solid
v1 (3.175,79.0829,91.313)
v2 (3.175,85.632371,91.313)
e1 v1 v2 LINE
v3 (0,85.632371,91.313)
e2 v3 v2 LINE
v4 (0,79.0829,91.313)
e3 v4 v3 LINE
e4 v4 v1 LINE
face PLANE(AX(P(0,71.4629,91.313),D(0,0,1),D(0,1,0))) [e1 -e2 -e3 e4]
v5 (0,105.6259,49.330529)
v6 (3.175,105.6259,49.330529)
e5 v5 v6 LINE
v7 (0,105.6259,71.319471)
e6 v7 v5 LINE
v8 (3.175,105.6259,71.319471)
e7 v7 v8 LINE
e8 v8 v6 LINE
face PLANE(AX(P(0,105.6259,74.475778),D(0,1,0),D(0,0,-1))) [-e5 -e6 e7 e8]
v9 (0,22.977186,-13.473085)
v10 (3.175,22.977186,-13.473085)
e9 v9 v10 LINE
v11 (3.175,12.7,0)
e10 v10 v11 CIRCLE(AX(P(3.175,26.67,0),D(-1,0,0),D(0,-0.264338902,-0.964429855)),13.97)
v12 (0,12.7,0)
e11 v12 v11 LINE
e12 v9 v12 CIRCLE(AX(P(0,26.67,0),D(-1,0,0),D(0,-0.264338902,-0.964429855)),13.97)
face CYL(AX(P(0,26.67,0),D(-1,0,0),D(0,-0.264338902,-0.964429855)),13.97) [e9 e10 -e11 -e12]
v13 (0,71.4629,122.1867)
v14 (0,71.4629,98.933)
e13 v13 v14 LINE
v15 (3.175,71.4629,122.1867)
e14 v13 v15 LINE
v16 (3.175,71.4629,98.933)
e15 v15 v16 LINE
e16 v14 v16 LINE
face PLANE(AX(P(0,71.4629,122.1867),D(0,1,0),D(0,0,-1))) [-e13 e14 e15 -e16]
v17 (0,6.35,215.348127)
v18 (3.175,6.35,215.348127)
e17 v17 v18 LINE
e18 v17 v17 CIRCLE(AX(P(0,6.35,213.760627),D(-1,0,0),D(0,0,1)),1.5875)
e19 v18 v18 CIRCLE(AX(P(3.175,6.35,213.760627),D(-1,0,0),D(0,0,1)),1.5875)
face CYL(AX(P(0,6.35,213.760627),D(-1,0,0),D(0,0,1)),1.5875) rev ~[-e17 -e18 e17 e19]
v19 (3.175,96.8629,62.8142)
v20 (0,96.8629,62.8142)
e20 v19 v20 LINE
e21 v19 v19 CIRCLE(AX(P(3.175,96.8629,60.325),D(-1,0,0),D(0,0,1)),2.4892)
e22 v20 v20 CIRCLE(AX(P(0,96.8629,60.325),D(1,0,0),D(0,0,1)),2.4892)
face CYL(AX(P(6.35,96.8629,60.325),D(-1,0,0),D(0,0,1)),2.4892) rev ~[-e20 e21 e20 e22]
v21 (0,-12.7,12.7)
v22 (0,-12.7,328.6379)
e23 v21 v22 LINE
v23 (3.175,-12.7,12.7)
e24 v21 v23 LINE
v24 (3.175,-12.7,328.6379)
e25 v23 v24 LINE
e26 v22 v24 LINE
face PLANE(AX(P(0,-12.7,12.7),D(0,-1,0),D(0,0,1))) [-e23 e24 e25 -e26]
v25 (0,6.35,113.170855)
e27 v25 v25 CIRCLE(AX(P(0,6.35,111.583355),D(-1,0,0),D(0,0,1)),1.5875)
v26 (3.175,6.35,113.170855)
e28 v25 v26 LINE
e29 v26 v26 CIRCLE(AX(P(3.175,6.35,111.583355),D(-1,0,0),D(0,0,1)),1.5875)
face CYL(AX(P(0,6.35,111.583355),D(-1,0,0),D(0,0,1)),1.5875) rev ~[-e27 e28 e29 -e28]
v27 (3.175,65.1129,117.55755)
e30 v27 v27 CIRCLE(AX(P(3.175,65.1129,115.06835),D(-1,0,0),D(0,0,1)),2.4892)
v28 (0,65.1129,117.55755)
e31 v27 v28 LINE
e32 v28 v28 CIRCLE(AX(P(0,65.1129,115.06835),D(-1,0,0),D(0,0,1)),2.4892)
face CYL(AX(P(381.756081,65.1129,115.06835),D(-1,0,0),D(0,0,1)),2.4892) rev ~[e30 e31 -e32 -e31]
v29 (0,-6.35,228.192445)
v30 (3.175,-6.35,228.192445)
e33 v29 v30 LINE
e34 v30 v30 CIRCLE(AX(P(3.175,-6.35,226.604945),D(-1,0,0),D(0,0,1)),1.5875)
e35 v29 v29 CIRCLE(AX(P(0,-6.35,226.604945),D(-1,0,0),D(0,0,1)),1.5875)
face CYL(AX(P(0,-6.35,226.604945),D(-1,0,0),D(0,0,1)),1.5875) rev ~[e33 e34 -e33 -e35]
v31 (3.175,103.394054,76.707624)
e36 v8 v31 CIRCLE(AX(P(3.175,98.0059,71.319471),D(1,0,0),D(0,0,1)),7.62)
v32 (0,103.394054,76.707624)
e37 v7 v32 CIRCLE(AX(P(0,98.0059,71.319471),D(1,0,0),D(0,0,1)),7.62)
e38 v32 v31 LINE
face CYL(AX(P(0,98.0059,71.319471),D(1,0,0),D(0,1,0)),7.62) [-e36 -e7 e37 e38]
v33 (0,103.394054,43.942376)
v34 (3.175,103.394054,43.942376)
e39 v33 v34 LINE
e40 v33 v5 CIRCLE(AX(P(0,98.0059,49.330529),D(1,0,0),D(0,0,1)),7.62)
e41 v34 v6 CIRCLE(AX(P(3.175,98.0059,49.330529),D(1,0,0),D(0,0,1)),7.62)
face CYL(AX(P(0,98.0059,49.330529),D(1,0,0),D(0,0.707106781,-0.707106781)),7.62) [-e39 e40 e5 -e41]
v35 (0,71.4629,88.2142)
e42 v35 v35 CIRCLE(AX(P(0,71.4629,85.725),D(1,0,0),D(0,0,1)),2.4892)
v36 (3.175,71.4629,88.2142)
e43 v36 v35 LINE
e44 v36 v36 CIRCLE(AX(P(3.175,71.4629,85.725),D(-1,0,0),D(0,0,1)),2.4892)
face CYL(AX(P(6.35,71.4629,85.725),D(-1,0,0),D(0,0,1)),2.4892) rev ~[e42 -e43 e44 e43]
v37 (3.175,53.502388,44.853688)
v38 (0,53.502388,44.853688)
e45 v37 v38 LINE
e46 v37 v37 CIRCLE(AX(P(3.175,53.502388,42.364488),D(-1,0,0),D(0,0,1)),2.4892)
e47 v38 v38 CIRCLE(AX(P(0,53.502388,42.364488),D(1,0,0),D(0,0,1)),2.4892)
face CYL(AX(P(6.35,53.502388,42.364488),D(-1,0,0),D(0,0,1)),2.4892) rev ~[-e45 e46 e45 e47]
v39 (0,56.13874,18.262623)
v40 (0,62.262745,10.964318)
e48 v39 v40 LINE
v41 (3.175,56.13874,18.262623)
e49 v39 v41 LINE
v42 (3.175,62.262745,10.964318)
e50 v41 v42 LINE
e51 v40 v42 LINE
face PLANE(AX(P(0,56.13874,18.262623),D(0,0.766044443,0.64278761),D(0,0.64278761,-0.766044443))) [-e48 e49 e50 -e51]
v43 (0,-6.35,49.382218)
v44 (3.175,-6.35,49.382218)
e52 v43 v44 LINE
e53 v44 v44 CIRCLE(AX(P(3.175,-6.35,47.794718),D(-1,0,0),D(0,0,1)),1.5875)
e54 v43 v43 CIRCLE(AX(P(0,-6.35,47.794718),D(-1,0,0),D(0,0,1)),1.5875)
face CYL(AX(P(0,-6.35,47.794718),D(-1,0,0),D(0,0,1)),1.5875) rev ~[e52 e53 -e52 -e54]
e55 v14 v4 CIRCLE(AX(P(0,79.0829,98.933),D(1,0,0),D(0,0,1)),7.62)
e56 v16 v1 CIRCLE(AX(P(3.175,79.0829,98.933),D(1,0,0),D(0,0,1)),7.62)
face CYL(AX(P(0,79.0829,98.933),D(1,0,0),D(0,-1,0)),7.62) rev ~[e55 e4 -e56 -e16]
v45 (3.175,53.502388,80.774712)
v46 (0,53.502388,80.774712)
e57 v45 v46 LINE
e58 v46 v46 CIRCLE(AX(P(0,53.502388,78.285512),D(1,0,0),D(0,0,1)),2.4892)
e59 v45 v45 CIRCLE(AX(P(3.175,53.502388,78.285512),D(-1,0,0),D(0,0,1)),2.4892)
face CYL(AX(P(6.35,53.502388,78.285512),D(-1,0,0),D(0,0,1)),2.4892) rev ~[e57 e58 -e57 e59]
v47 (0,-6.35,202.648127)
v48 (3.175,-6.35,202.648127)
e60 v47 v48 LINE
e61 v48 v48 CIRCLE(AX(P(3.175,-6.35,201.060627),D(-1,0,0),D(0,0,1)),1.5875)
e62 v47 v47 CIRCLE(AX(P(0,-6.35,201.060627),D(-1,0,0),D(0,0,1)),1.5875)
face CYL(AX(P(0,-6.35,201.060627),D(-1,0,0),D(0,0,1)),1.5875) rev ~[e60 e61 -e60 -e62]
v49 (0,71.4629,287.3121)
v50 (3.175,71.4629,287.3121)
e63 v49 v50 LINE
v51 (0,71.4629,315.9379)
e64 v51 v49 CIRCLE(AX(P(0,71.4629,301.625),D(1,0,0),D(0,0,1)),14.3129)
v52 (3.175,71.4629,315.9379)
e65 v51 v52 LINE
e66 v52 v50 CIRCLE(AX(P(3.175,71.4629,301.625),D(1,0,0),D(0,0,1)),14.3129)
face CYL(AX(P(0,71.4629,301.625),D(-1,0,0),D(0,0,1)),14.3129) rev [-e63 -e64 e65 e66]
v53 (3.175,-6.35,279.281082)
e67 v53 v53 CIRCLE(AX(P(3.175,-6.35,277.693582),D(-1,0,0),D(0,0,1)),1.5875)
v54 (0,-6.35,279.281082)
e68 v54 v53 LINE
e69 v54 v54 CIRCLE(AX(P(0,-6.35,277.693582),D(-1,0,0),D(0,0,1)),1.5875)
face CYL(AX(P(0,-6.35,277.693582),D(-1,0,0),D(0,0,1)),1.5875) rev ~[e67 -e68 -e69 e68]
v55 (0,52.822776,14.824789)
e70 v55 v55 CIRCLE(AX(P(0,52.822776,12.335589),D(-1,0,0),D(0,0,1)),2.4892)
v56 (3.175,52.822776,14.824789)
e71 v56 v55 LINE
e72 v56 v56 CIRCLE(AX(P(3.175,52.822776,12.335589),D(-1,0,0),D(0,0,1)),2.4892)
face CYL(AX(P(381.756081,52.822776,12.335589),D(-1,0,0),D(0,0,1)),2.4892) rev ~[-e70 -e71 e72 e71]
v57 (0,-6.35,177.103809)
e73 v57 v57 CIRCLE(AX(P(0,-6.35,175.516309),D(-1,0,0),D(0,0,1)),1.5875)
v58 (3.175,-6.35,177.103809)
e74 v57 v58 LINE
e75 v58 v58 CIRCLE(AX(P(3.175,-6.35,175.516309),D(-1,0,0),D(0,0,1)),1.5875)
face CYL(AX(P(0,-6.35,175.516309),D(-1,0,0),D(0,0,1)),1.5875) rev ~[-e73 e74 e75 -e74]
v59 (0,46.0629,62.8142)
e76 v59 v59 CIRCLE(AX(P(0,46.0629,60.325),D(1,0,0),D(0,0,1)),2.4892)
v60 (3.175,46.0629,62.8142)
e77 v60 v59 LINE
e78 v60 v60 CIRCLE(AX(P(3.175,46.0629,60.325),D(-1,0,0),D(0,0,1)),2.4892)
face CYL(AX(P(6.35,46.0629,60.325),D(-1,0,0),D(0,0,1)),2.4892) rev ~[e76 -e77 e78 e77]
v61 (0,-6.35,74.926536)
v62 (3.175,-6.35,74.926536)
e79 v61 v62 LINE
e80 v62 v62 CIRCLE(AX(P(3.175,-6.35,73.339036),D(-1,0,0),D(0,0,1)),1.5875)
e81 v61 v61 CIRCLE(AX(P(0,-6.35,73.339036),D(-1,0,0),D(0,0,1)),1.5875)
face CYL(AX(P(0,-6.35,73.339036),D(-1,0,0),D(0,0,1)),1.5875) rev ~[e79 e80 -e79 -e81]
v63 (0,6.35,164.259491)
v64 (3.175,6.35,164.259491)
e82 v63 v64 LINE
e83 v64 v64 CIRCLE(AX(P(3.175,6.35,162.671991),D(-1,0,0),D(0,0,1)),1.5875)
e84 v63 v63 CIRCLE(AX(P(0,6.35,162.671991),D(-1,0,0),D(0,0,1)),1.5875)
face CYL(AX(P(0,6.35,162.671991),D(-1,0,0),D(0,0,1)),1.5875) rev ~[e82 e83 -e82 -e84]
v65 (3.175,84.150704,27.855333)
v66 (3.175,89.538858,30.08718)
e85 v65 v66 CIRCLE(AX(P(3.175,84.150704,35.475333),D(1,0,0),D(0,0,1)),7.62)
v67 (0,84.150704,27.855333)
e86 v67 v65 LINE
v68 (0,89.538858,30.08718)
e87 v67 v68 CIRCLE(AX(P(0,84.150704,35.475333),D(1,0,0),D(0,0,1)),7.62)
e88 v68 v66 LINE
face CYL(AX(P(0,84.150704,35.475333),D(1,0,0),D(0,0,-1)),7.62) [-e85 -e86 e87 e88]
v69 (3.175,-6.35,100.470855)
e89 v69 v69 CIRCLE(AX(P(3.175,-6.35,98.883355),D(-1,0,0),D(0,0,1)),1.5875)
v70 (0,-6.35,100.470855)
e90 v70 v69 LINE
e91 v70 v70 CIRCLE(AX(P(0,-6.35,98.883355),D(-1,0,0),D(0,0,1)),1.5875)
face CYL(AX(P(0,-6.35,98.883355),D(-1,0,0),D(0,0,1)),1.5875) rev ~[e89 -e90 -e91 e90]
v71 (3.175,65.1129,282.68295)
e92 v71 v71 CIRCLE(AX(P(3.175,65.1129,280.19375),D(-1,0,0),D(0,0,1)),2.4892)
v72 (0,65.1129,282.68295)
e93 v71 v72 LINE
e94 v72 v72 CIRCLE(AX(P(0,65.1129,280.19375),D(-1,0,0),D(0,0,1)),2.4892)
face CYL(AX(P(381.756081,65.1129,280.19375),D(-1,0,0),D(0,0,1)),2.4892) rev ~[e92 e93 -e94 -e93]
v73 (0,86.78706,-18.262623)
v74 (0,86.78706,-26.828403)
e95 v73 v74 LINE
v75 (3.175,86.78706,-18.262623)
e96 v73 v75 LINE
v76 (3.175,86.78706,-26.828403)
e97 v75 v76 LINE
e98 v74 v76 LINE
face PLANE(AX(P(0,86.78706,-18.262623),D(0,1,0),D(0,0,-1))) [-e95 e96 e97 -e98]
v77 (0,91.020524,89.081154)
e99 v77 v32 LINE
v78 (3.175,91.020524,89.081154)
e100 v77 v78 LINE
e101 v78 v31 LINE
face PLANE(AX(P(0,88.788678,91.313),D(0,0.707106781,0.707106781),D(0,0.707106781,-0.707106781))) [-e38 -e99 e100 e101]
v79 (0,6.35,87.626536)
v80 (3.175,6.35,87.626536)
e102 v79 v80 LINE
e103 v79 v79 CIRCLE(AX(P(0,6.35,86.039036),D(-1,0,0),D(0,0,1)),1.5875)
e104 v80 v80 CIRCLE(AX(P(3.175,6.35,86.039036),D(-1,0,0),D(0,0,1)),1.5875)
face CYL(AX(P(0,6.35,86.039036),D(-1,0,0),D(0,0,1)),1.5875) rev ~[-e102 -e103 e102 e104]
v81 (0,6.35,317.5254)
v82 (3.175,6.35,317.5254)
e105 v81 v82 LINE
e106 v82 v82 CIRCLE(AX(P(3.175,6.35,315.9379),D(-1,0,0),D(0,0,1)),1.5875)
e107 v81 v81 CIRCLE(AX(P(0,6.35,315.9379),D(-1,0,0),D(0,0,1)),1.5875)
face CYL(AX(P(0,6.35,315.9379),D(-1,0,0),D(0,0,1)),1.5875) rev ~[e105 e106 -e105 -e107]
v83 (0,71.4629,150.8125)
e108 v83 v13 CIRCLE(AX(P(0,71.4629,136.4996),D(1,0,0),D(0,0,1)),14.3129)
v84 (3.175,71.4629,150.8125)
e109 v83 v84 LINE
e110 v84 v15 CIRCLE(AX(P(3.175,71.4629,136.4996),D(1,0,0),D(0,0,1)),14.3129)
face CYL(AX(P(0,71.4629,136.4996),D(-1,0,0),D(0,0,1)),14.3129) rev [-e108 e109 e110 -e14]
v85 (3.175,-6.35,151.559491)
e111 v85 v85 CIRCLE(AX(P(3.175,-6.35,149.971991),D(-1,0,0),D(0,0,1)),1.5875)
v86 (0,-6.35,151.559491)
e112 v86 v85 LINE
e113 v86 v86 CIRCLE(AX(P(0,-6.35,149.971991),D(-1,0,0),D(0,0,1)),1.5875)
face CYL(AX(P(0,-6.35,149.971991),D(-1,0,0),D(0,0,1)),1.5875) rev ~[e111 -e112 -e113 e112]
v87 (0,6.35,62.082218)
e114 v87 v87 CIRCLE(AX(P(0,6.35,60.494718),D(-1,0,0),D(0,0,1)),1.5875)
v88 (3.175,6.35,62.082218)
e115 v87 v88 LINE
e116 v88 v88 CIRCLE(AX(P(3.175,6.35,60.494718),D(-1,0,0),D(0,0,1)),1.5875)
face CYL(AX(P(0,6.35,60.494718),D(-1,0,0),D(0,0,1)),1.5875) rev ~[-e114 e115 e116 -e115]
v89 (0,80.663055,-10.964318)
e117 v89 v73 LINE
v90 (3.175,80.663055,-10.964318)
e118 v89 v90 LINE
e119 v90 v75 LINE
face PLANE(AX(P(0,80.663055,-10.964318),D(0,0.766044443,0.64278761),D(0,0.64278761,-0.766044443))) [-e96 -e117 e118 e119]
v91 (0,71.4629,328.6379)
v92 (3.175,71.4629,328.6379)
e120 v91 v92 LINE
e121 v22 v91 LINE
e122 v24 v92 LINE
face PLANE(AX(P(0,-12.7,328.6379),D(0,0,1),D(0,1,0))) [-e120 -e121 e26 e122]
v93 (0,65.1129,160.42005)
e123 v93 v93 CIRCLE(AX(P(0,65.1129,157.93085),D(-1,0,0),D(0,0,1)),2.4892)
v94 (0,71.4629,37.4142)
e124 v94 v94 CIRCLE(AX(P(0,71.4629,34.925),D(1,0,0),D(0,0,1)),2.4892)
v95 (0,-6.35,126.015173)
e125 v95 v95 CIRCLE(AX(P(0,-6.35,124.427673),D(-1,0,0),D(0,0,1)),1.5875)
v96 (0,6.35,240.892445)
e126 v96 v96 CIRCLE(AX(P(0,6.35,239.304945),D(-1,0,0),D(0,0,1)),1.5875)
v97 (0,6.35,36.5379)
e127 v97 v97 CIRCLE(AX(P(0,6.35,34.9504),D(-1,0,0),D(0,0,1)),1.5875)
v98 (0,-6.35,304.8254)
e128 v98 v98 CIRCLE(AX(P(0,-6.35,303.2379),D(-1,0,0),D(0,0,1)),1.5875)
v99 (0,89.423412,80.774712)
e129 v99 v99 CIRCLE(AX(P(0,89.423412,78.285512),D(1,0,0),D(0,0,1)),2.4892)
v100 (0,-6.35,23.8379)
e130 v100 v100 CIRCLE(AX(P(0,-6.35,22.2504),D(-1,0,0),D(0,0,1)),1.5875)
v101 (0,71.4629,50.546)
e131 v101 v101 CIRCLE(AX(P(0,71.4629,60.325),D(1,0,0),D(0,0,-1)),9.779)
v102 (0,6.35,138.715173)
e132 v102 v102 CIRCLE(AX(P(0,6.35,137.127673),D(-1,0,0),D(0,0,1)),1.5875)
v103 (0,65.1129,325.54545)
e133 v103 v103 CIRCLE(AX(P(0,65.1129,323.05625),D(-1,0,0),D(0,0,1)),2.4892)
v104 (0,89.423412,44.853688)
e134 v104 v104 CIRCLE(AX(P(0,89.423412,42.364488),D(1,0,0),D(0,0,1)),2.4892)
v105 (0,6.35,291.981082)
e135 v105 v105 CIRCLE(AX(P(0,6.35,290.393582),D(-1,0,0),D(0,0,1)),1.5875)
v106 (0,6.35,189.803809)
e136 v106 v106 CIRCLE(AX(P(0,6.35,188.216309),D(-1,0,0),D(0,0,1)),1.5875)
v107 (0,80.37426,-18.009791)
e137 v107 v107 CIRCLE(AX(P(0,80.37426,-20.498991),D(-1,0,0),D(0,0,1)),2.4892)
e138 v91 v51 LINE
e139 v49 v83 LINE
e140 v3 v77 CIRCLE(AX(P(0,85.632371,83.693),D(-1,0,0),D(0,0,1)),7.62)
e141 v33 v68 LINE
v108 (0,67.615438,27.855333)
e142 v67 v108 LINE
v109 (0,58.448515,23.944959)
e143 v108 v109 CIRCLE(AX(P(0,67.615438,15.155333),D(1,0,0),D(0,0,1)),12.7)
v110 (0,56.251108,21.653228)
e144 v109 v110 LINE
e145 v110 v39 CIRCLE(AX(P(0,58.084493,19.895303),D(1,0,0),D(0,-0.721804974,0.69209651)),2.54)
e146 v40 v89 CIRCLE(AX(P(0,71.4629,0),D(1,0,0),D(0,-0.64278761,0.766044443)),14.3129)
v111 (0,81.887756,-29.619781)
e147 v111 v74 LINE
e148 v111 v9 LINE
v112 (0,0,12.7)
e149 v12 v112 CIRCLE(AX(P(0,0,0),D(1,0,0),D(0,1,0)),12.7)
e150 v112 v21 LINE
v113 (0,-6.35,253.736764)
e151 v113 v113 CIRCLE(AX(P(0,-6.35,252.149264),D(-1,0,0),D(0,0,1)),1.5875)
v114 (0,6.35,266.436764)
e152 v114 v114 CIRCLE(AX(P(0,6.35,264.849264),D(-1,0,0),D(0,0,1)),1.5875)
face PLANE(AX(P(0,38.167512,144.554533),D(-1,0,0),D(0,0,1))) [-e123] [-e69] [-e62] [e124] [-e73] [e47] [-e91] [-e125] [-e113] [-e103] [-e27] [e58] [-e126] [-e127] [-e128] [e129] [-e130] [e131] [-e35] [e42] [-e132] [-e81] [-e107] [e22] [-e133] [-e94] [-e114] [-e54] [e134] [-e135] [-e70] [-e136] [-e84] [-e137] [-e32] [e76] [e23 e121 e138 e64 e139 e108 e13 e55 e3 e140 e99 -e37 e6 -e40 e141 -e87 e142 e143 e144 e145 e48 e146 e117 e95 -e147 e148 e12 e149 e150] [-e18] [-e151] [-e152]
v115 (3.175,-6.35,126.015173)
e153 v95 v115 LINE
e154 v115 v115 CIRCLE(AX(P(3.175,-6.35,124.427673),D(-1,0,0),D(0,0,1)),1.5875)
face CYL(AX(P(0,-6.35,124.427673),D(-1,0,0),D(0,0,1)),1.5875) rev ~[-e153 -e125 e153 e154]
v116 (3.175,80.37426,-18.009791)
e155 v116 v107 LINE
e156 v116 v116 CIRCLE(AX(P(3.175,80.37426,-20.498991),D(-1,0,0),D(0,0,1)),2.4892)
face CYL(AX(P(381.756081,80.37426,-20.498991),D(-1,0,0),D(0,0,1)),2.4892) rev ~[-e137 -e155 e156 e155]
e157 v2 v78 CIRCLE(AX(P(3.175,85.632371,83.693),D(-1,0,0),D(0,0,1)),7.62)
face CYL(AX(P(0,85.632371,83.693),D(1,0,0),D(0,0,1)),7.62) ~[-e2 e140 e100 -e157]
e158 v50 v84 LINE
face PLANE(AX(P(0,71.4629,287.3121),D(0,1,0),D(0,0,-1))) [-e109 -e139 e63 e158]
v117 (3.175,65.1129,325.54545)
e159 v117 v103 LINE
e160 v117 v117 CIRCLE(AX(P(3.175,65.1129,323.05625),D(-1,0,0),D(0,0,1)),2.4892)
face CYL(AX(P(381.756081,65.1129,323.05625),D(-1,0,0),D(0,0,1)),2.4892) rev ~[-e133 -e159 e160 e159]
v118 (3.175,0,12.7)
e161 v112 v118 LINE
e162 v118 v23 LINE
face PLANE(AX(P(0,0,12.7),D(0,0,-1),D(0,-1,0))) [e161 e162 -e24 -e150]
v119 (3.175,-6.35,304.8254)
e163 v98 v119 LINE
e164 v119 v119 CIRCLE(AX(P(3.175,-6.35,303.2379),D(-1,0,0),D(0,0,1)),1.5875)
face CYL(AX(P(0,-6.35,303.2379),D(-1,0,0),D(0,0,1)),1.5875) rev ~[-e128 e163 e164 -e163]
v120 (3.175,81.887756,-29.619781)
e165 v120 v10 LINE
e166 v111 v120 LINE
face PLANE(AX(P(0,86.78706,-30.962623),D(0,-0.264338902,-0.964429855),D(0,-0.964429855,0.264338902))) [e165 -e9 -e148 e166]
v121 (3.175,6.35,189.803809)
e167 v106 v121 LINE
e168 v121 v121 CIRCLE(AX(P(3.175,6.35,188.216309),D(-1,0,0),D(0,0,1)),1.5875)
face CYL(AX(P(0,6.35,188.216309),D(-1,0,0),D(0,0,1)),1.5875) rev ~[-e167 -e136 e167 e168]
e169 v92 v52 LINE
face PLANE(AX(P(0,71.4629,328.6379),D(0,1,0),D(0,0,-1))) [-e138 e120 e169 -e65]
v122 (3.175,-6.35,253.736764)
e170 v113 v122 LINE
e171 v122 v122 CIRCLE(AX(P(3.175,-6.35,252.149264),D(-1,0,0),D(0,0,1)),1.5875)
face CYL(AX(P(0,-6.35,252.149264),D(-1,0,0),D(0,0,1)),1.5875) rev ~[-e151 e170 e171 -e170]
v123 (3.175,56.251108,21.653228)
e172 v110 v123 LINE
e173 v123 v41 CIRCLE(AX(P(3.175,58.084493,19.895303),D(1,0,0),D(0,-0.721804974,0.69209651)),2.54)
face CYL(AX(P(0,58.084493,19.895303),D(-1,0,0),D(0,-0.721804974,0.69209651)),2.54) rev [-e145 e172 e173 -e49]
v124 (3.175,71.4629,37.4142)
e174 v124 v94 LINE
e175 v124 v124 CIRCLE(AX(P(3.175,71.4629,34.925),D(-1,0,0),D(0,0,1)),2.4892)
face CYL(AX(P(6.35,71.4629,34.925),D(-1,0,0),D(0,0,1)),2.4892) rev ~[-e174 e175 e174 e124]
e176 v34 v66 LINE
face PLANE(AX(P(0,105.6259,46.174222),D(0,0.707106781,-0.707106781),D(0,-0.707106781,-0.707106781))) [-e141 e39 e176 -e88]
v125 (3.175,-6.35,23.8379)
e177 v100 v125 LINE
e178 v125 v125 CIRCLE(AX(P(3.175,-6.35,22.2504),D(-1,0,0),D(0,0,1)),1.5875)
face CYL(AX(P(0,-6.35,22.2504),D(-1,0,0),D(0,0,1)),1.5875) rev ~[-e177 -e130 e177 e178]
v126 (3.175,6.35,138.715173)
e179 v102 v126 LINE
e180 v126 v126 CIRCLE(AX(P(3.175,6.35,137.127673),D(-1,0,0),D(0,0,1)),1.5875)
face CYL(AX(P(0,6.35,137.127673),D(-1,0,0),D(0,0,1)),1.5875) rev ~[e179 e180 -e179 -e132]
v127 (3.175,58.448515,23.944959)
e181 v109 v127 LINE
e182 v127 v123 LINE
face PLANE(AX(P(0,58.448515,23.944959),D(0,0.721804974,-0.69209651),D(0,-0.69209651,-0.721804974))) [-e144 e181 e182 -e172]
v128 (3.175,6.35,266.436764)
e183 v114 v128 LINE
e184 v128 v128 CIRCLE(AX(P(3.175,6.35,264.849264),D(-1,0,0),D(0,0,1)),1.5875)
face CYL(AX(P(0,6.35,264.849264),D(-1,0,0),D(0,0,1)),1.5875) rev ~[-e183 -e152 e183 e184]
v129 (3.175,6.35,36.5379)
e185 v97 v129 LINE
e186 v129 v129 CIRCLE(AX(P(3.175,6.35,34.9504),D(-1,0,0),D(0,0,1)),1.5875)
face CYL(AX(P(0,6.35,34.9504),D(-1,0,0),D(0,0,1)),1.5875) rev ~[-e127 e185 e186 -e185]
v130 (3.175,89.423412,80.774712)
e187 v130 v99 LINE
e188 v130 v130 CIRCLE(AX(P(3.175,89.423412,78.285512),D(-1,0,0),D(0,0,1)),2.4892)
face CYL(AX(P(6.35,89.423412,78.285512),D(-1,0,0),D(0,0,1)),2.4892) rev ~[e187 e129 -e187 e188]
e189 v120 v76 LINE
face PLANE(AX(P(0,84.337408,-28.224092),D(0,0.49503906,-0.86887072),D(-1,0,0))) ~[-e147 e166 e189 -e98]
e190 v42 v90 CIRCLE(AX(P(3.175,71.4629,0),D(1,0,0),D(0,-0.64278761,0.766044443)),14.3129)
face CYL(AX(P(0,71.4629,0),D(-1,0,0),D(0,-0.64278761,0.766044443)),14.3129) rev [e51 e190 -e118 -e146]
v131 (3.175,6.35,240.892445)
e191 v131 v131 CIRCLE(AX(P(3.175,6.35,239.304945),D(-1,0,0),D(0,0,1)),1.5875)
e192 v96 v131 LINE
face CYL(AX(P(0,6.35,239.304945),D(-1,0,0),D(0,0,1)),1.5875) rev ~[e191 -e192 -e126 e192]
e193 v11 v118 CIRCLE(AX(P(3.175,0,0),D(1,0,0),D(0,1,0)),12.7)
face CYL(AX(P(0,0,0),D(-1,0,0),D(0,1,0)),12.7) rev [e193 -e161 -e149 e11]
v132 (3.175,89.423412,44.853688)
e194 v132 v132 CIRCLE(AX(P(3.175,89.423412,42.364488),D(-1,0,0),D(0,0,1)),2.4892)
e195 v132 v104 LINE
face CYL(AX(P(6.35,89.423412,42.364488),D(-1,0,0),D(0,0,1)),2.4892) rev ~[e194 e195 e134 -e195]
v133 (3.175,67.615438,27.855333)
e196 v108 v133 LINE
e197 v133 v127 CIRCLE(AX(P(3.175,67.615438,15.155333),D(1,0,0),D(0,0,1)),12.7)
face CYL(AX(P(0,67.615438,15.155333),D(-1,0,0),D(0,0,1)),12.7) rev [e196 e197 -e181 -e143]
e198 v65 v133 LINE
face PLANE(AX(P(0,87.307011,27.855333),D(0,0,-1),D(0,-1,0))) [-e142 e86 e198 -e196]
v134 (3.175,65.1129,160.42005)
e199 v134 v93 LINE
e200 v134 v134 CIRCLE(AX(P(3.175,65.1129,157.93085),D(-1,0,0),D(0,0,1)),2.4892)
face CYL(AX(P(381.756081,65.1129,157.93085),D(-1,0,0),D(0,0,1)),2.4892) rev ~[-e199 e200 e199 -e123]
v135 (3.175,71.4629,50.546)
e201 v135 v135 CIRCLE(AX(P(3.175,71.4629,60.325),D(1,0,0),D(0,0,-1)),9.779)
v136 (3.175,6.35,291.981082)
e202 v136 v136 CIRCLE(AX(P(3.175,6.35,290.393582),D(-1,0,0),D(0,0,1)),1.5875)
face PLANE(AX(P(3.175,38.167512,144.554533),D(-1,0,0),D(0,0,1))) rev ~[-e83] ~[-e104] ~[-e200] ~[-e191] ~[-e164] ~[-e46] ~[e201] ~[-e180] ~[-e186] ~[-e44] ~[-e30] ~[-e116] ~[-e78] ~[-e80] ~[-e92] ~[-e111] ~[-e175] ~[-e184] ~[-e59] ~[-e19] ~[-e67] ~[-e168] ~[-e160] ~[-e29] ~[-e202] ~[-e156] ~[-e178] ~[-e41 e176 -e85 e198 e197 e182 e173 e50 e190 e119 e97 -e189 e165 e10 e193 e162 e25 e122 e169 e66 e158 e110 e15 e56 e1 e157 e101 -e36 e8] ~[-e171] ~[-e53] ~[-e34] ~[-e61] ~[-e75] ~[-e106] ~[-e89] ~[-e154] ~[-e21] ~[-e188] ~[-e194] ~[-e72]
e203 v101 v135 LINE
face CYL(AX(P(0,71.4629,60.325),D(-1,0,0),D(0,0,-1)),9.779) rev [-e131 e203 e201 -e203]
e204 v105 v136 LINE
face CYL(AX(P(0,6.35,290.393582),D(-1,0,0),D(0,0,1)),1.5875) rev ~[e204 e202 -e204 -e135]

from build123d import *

# Parameters (mm, degrees)
SKETCH1_R                  = 9.779
SKETCH1_R_2                = 2.413
BOSS_EXTRUDE1_DEPTH        = 3.175
F_10_CLEARANCE_HOLE1_D     = 4.9784
F_10_CLEARANCE_HOLE2_D     = 4.9784
F_10_CLEARANCE_HOLE2_DEPTH = 3.175
F_10_CLEARANCE_HOLE2_TIP   = 1.495662253
CHAMFER1_SIZE              = 5.08
CHAMFER1_SIZE2             = 4.1342197
FILLET1_R                  = 7.62
SKETCH7_R                  = 1.5875
CUT_EXTRUDE1_DEPTH         = 346.209763321


with BuildPart() as part:
    # Sketch1 → Boss-Extrude1 (new body)
    with BuildSketch(Plane(origin=(0, 0, 0), x_dir=(0, 0, -1), z_dir=(1, 0, 0))):
        with BuildLine():
            Line((-12.7, -12.7), (-328.6379, -12.7))
            Line((-328.6379, -12.7), (-328.6379, 71.4629))
            Line((-328.6379, 71.4629), (-315.9379, 71.4629))
            ThreePointArc((-315.9379, 71.4629), (-301.625, 57.15), (-287.3121, 71.4629))
            Line((-287.3121, 71.4629), (-150.8125, 71.4629))
            ThreePointArc((-150.8125, 71.4629), (-136.4996, 57.15), (-122.1867, 71.4629))
            Line((-122.1867, 71.4629), (-91.313, 71.4629))
            Line((-91.313, 71.4629), (-91.313, 88.788677931))
            Line((-91.313, 88.788677931), (-74.475777931, 105.6259))
            Line((-74.475777931, 105.6259), (-46.174222069, 105.6259))
            Line((-46.174222069, 105.6259), (-27.855333333, 87.307011265))
            Line((-27.855333333, 87.307011265), (-27.855333333, 67.615437998))
            ThreePointArc((-27.855333333, 67.615437998), (-26.836905275, 62.632379001), (-23.944959008, 58.448514823))
            Line((-23.944959008, 58.448514823), (-21.653228214, 56.251108404))
            ThreePointArc((-21.653228214, 56.251108404), (-19.979435171, 55.545886769), (-18.262622551, 56.138740153))
            Line((-18.262622551, 56.138740153), (-10.96431751, 62.262745221))
            ThreePointArc((-10.96431751, 62.262745221), (9.200154779, 60.49858249), (10.96431751, 80.663054779))
            Line((10.96431751, 80.663054779), (18.262622551, 86.787059847))
            Line((18.262622551, 86.787059847), (30.962622551, 86.787059847))
            Line((30.962622551, 86.787059847), (13.473085073, 22.977185543))
            ThreePointArc((13.473085073, 22.977185543), (8.472670241, 15.562580904), (0, 12.7))
            ThreePointArc((0, 12.7), (-8.980256121, 8.980256121), (-12.7, 0))
            Line((-12.7, 0), (-12.7, -12.7))
        make_face()
        with Locations((-60.325, 71.4629)):
            Circle(SKETCH1_R, mode=Mode.SUBTRACT)
        with Locations((-60.325, 96.8629)):
            Circle(SKETCH1_R_2, mode=Mode.SUBTRACT)
        with Locations((-42.364487758, 89.423412242)):
            Circle(SKETCH1_R_2, mode=Mode.SUBTRACT)
        with Locations((-34.925, 71.4629)):
            Circle(SKETCH1_R_2, mode=Mode.SUBTRACT)
        with Locations((-42.364487758, 53.502387758)):
            Circle(SKETCH1_R_2, mode=Mode.SUBTRACT)
        with Locations((-60.325, 46.0629)):
            Circle(SKETCH1_R_2, mode=Mode.SUBTRACT)
        with Locations((-78.285512242, 53.502387758)):
            Circle(SKETCH1_R_2, mode=Mode.SUBTRACT)
        with Locations((-85.725, 71.4629)):
            Circle(SKETCH1_R_2, mode=Mode.SUBTRACT)
        with Locations((-78.285512242, 89.423412242)):
            Circle(SKETCH1_R_2, mode=Mode.SUBTRACT)
    extrude(amount=BOSS_EXTRUDE1_DEPTH)

    # #10 Clearance Hole1 (through all)
    with Locations(Plane(origin=(3.175, 0, 0), x_dir=(0, 0, -1), z_dir=(1, 0, 0))):
        with Locations((-323.05625, 65.1129), (-280.19375, 65.1129), (-157.93085, 65.1129), (-115.06835, 65.1129), (-12.33558865, 52.822775826), (20.498991293, 80.374259746)):
            Hole(F_10_CLEARANCE_HOLE1_D / 2)

    # #10 Clearance Hole2
    with Locations(Plane(origin=(3.175, 0, 0), x_dir=(0, 0, -1), z_dir=(1, 0, 0))):
        with Locations((-60.325, 96.8629), (-42.364487758, 89.423412242), (-34.925, 71.4629), (-42.364487758, 53.502387758), (-60.325, 46.0629), (-78.285512242, 53.502387758), (-85.725, 71.4629), (-78.285512242, 89.423412242)):
            Hole(F_10_CLEARANCE_HOLE2_D / 2, depth=F_10_CLEARANCE_HOLE2_DEPTH)
            with Locations((0, 0, -(F_10_CLEARANCE_HOLE2_DEPTH + F_10_CLEARANCE_HOLE2_TIP / 2))):  # 118° drill point
                Cone(0, F_10_CLEARANCE_HOLE2_D / 2, F_10_CLEARANCE_HOLE2_TIP, mode=Mode.SUBTRACT)

    # Chamfer1
    chamfer1_edges = [part.edges().sort_by_distance(p)[0] for p in [
        (1.5875, 86.787059847, -30.962622551),
    ]]
    chamfer1_side = [part.faces().sort_by_distance(p)[0] for p in [
        (1.5875, 54.882122695, -22.217853812),
    ]]
    chamfer(chamfer1_edges, length=CHAMFER1_SIZE, length2=CHAMFER1_SIZE2, reference=chamfer1_side[0])

    # Fillet1
    fillet1_edges = [part.edges().sort_by_distance(p)[0] for p in [
        (1.5875, 71.4629, 91.313),
        (1.5875, 88.788677931, 91.313),
        (1.5875, 105.6259, 74.475777931),
        (1.5875, 105.6259, 46.174222069),
        (1.5875, 87.307011265, 27.855333333),
    ]]
    fillet(fillet1_edges, radius=FILLET1_R)

    # Sketch7 → Cut-Extrude1 (cut, through all)
    with BuildSketch(Plane.ZY):
        with Locations((315.9379, 6.35)):
            Circle(SKETCH7_R)
        with Locations((303.2379, -6.35)):
            Circle(SKETCH7_R)
        with Locations((290.393581818, 6.35)):
            Circle(SKETCH7_R)
        with Locations((277.693581818, -6.35)):
            Circle(SKETCH7_R)
        with Locations((264.849263636, 6.35)):
            Circle(SKETCH7_R)
        with Locations((252.149263636, -6.35)):
            Circle(SKETCH7_R)
        with Locations((239.304945455, 6.35)):
            Circle(SKETCH7_R)
        with Locations((226.604945455, -6.35)):
            Circle(SKETCH7_R)
        with Locations((213.760627273, 6.35)):
            Circle(SKETCH7_R)
        with Locations((201.060627273, -6.35)):
            Circle(SKETCH7_R)
        with Locations((188.216309091, 6.35)):
            Circle(SKETCH7_R)
        with Locations((175.516309091, -6.35)):
            Circle(SKETCH7_R)
        with Locations((162.671990909, 6.35)):
            Circle(SKETCH7_R)
        with Locations((149.971990909, -6.35)):
            Circle(SKETCH7_R)
        with Locations((137.127672727, 6.35)):
            Circle(SKETCH7_R)
        with Locations((124.427672727, -6.35)):
            Circle(SKETCH7_R)
        with Locations((111.583354545, 6.35)):
            Circle(SKETCH7_R)
        with Locations((98.883354545, -6.35)):
            Circle(SKETCH7_R)
        with Locations((86.039036364, 6.35)):
            Circle(SKETCH7_R)
        with Locations((73.339036364, -6.35)):
            Circle(SKETCH7_R)
        with Locations((60.494718182, 6.35)):
            Circle(SKETCH7_R)
        with Locations((47.794718182, -6.35)):
            Circle(SKETCH7_R)
        with Locations((34.9504, 6.35)):
            Circle(SKETCH7_R)
        with Locations((22.2504, -6.35)):
            Circle(SKETCH7_R)
    extrude(amount=-CUT_EXTRUDE1_DEPTH, mode=Mode.SUBTRACT)


solid = part.part
